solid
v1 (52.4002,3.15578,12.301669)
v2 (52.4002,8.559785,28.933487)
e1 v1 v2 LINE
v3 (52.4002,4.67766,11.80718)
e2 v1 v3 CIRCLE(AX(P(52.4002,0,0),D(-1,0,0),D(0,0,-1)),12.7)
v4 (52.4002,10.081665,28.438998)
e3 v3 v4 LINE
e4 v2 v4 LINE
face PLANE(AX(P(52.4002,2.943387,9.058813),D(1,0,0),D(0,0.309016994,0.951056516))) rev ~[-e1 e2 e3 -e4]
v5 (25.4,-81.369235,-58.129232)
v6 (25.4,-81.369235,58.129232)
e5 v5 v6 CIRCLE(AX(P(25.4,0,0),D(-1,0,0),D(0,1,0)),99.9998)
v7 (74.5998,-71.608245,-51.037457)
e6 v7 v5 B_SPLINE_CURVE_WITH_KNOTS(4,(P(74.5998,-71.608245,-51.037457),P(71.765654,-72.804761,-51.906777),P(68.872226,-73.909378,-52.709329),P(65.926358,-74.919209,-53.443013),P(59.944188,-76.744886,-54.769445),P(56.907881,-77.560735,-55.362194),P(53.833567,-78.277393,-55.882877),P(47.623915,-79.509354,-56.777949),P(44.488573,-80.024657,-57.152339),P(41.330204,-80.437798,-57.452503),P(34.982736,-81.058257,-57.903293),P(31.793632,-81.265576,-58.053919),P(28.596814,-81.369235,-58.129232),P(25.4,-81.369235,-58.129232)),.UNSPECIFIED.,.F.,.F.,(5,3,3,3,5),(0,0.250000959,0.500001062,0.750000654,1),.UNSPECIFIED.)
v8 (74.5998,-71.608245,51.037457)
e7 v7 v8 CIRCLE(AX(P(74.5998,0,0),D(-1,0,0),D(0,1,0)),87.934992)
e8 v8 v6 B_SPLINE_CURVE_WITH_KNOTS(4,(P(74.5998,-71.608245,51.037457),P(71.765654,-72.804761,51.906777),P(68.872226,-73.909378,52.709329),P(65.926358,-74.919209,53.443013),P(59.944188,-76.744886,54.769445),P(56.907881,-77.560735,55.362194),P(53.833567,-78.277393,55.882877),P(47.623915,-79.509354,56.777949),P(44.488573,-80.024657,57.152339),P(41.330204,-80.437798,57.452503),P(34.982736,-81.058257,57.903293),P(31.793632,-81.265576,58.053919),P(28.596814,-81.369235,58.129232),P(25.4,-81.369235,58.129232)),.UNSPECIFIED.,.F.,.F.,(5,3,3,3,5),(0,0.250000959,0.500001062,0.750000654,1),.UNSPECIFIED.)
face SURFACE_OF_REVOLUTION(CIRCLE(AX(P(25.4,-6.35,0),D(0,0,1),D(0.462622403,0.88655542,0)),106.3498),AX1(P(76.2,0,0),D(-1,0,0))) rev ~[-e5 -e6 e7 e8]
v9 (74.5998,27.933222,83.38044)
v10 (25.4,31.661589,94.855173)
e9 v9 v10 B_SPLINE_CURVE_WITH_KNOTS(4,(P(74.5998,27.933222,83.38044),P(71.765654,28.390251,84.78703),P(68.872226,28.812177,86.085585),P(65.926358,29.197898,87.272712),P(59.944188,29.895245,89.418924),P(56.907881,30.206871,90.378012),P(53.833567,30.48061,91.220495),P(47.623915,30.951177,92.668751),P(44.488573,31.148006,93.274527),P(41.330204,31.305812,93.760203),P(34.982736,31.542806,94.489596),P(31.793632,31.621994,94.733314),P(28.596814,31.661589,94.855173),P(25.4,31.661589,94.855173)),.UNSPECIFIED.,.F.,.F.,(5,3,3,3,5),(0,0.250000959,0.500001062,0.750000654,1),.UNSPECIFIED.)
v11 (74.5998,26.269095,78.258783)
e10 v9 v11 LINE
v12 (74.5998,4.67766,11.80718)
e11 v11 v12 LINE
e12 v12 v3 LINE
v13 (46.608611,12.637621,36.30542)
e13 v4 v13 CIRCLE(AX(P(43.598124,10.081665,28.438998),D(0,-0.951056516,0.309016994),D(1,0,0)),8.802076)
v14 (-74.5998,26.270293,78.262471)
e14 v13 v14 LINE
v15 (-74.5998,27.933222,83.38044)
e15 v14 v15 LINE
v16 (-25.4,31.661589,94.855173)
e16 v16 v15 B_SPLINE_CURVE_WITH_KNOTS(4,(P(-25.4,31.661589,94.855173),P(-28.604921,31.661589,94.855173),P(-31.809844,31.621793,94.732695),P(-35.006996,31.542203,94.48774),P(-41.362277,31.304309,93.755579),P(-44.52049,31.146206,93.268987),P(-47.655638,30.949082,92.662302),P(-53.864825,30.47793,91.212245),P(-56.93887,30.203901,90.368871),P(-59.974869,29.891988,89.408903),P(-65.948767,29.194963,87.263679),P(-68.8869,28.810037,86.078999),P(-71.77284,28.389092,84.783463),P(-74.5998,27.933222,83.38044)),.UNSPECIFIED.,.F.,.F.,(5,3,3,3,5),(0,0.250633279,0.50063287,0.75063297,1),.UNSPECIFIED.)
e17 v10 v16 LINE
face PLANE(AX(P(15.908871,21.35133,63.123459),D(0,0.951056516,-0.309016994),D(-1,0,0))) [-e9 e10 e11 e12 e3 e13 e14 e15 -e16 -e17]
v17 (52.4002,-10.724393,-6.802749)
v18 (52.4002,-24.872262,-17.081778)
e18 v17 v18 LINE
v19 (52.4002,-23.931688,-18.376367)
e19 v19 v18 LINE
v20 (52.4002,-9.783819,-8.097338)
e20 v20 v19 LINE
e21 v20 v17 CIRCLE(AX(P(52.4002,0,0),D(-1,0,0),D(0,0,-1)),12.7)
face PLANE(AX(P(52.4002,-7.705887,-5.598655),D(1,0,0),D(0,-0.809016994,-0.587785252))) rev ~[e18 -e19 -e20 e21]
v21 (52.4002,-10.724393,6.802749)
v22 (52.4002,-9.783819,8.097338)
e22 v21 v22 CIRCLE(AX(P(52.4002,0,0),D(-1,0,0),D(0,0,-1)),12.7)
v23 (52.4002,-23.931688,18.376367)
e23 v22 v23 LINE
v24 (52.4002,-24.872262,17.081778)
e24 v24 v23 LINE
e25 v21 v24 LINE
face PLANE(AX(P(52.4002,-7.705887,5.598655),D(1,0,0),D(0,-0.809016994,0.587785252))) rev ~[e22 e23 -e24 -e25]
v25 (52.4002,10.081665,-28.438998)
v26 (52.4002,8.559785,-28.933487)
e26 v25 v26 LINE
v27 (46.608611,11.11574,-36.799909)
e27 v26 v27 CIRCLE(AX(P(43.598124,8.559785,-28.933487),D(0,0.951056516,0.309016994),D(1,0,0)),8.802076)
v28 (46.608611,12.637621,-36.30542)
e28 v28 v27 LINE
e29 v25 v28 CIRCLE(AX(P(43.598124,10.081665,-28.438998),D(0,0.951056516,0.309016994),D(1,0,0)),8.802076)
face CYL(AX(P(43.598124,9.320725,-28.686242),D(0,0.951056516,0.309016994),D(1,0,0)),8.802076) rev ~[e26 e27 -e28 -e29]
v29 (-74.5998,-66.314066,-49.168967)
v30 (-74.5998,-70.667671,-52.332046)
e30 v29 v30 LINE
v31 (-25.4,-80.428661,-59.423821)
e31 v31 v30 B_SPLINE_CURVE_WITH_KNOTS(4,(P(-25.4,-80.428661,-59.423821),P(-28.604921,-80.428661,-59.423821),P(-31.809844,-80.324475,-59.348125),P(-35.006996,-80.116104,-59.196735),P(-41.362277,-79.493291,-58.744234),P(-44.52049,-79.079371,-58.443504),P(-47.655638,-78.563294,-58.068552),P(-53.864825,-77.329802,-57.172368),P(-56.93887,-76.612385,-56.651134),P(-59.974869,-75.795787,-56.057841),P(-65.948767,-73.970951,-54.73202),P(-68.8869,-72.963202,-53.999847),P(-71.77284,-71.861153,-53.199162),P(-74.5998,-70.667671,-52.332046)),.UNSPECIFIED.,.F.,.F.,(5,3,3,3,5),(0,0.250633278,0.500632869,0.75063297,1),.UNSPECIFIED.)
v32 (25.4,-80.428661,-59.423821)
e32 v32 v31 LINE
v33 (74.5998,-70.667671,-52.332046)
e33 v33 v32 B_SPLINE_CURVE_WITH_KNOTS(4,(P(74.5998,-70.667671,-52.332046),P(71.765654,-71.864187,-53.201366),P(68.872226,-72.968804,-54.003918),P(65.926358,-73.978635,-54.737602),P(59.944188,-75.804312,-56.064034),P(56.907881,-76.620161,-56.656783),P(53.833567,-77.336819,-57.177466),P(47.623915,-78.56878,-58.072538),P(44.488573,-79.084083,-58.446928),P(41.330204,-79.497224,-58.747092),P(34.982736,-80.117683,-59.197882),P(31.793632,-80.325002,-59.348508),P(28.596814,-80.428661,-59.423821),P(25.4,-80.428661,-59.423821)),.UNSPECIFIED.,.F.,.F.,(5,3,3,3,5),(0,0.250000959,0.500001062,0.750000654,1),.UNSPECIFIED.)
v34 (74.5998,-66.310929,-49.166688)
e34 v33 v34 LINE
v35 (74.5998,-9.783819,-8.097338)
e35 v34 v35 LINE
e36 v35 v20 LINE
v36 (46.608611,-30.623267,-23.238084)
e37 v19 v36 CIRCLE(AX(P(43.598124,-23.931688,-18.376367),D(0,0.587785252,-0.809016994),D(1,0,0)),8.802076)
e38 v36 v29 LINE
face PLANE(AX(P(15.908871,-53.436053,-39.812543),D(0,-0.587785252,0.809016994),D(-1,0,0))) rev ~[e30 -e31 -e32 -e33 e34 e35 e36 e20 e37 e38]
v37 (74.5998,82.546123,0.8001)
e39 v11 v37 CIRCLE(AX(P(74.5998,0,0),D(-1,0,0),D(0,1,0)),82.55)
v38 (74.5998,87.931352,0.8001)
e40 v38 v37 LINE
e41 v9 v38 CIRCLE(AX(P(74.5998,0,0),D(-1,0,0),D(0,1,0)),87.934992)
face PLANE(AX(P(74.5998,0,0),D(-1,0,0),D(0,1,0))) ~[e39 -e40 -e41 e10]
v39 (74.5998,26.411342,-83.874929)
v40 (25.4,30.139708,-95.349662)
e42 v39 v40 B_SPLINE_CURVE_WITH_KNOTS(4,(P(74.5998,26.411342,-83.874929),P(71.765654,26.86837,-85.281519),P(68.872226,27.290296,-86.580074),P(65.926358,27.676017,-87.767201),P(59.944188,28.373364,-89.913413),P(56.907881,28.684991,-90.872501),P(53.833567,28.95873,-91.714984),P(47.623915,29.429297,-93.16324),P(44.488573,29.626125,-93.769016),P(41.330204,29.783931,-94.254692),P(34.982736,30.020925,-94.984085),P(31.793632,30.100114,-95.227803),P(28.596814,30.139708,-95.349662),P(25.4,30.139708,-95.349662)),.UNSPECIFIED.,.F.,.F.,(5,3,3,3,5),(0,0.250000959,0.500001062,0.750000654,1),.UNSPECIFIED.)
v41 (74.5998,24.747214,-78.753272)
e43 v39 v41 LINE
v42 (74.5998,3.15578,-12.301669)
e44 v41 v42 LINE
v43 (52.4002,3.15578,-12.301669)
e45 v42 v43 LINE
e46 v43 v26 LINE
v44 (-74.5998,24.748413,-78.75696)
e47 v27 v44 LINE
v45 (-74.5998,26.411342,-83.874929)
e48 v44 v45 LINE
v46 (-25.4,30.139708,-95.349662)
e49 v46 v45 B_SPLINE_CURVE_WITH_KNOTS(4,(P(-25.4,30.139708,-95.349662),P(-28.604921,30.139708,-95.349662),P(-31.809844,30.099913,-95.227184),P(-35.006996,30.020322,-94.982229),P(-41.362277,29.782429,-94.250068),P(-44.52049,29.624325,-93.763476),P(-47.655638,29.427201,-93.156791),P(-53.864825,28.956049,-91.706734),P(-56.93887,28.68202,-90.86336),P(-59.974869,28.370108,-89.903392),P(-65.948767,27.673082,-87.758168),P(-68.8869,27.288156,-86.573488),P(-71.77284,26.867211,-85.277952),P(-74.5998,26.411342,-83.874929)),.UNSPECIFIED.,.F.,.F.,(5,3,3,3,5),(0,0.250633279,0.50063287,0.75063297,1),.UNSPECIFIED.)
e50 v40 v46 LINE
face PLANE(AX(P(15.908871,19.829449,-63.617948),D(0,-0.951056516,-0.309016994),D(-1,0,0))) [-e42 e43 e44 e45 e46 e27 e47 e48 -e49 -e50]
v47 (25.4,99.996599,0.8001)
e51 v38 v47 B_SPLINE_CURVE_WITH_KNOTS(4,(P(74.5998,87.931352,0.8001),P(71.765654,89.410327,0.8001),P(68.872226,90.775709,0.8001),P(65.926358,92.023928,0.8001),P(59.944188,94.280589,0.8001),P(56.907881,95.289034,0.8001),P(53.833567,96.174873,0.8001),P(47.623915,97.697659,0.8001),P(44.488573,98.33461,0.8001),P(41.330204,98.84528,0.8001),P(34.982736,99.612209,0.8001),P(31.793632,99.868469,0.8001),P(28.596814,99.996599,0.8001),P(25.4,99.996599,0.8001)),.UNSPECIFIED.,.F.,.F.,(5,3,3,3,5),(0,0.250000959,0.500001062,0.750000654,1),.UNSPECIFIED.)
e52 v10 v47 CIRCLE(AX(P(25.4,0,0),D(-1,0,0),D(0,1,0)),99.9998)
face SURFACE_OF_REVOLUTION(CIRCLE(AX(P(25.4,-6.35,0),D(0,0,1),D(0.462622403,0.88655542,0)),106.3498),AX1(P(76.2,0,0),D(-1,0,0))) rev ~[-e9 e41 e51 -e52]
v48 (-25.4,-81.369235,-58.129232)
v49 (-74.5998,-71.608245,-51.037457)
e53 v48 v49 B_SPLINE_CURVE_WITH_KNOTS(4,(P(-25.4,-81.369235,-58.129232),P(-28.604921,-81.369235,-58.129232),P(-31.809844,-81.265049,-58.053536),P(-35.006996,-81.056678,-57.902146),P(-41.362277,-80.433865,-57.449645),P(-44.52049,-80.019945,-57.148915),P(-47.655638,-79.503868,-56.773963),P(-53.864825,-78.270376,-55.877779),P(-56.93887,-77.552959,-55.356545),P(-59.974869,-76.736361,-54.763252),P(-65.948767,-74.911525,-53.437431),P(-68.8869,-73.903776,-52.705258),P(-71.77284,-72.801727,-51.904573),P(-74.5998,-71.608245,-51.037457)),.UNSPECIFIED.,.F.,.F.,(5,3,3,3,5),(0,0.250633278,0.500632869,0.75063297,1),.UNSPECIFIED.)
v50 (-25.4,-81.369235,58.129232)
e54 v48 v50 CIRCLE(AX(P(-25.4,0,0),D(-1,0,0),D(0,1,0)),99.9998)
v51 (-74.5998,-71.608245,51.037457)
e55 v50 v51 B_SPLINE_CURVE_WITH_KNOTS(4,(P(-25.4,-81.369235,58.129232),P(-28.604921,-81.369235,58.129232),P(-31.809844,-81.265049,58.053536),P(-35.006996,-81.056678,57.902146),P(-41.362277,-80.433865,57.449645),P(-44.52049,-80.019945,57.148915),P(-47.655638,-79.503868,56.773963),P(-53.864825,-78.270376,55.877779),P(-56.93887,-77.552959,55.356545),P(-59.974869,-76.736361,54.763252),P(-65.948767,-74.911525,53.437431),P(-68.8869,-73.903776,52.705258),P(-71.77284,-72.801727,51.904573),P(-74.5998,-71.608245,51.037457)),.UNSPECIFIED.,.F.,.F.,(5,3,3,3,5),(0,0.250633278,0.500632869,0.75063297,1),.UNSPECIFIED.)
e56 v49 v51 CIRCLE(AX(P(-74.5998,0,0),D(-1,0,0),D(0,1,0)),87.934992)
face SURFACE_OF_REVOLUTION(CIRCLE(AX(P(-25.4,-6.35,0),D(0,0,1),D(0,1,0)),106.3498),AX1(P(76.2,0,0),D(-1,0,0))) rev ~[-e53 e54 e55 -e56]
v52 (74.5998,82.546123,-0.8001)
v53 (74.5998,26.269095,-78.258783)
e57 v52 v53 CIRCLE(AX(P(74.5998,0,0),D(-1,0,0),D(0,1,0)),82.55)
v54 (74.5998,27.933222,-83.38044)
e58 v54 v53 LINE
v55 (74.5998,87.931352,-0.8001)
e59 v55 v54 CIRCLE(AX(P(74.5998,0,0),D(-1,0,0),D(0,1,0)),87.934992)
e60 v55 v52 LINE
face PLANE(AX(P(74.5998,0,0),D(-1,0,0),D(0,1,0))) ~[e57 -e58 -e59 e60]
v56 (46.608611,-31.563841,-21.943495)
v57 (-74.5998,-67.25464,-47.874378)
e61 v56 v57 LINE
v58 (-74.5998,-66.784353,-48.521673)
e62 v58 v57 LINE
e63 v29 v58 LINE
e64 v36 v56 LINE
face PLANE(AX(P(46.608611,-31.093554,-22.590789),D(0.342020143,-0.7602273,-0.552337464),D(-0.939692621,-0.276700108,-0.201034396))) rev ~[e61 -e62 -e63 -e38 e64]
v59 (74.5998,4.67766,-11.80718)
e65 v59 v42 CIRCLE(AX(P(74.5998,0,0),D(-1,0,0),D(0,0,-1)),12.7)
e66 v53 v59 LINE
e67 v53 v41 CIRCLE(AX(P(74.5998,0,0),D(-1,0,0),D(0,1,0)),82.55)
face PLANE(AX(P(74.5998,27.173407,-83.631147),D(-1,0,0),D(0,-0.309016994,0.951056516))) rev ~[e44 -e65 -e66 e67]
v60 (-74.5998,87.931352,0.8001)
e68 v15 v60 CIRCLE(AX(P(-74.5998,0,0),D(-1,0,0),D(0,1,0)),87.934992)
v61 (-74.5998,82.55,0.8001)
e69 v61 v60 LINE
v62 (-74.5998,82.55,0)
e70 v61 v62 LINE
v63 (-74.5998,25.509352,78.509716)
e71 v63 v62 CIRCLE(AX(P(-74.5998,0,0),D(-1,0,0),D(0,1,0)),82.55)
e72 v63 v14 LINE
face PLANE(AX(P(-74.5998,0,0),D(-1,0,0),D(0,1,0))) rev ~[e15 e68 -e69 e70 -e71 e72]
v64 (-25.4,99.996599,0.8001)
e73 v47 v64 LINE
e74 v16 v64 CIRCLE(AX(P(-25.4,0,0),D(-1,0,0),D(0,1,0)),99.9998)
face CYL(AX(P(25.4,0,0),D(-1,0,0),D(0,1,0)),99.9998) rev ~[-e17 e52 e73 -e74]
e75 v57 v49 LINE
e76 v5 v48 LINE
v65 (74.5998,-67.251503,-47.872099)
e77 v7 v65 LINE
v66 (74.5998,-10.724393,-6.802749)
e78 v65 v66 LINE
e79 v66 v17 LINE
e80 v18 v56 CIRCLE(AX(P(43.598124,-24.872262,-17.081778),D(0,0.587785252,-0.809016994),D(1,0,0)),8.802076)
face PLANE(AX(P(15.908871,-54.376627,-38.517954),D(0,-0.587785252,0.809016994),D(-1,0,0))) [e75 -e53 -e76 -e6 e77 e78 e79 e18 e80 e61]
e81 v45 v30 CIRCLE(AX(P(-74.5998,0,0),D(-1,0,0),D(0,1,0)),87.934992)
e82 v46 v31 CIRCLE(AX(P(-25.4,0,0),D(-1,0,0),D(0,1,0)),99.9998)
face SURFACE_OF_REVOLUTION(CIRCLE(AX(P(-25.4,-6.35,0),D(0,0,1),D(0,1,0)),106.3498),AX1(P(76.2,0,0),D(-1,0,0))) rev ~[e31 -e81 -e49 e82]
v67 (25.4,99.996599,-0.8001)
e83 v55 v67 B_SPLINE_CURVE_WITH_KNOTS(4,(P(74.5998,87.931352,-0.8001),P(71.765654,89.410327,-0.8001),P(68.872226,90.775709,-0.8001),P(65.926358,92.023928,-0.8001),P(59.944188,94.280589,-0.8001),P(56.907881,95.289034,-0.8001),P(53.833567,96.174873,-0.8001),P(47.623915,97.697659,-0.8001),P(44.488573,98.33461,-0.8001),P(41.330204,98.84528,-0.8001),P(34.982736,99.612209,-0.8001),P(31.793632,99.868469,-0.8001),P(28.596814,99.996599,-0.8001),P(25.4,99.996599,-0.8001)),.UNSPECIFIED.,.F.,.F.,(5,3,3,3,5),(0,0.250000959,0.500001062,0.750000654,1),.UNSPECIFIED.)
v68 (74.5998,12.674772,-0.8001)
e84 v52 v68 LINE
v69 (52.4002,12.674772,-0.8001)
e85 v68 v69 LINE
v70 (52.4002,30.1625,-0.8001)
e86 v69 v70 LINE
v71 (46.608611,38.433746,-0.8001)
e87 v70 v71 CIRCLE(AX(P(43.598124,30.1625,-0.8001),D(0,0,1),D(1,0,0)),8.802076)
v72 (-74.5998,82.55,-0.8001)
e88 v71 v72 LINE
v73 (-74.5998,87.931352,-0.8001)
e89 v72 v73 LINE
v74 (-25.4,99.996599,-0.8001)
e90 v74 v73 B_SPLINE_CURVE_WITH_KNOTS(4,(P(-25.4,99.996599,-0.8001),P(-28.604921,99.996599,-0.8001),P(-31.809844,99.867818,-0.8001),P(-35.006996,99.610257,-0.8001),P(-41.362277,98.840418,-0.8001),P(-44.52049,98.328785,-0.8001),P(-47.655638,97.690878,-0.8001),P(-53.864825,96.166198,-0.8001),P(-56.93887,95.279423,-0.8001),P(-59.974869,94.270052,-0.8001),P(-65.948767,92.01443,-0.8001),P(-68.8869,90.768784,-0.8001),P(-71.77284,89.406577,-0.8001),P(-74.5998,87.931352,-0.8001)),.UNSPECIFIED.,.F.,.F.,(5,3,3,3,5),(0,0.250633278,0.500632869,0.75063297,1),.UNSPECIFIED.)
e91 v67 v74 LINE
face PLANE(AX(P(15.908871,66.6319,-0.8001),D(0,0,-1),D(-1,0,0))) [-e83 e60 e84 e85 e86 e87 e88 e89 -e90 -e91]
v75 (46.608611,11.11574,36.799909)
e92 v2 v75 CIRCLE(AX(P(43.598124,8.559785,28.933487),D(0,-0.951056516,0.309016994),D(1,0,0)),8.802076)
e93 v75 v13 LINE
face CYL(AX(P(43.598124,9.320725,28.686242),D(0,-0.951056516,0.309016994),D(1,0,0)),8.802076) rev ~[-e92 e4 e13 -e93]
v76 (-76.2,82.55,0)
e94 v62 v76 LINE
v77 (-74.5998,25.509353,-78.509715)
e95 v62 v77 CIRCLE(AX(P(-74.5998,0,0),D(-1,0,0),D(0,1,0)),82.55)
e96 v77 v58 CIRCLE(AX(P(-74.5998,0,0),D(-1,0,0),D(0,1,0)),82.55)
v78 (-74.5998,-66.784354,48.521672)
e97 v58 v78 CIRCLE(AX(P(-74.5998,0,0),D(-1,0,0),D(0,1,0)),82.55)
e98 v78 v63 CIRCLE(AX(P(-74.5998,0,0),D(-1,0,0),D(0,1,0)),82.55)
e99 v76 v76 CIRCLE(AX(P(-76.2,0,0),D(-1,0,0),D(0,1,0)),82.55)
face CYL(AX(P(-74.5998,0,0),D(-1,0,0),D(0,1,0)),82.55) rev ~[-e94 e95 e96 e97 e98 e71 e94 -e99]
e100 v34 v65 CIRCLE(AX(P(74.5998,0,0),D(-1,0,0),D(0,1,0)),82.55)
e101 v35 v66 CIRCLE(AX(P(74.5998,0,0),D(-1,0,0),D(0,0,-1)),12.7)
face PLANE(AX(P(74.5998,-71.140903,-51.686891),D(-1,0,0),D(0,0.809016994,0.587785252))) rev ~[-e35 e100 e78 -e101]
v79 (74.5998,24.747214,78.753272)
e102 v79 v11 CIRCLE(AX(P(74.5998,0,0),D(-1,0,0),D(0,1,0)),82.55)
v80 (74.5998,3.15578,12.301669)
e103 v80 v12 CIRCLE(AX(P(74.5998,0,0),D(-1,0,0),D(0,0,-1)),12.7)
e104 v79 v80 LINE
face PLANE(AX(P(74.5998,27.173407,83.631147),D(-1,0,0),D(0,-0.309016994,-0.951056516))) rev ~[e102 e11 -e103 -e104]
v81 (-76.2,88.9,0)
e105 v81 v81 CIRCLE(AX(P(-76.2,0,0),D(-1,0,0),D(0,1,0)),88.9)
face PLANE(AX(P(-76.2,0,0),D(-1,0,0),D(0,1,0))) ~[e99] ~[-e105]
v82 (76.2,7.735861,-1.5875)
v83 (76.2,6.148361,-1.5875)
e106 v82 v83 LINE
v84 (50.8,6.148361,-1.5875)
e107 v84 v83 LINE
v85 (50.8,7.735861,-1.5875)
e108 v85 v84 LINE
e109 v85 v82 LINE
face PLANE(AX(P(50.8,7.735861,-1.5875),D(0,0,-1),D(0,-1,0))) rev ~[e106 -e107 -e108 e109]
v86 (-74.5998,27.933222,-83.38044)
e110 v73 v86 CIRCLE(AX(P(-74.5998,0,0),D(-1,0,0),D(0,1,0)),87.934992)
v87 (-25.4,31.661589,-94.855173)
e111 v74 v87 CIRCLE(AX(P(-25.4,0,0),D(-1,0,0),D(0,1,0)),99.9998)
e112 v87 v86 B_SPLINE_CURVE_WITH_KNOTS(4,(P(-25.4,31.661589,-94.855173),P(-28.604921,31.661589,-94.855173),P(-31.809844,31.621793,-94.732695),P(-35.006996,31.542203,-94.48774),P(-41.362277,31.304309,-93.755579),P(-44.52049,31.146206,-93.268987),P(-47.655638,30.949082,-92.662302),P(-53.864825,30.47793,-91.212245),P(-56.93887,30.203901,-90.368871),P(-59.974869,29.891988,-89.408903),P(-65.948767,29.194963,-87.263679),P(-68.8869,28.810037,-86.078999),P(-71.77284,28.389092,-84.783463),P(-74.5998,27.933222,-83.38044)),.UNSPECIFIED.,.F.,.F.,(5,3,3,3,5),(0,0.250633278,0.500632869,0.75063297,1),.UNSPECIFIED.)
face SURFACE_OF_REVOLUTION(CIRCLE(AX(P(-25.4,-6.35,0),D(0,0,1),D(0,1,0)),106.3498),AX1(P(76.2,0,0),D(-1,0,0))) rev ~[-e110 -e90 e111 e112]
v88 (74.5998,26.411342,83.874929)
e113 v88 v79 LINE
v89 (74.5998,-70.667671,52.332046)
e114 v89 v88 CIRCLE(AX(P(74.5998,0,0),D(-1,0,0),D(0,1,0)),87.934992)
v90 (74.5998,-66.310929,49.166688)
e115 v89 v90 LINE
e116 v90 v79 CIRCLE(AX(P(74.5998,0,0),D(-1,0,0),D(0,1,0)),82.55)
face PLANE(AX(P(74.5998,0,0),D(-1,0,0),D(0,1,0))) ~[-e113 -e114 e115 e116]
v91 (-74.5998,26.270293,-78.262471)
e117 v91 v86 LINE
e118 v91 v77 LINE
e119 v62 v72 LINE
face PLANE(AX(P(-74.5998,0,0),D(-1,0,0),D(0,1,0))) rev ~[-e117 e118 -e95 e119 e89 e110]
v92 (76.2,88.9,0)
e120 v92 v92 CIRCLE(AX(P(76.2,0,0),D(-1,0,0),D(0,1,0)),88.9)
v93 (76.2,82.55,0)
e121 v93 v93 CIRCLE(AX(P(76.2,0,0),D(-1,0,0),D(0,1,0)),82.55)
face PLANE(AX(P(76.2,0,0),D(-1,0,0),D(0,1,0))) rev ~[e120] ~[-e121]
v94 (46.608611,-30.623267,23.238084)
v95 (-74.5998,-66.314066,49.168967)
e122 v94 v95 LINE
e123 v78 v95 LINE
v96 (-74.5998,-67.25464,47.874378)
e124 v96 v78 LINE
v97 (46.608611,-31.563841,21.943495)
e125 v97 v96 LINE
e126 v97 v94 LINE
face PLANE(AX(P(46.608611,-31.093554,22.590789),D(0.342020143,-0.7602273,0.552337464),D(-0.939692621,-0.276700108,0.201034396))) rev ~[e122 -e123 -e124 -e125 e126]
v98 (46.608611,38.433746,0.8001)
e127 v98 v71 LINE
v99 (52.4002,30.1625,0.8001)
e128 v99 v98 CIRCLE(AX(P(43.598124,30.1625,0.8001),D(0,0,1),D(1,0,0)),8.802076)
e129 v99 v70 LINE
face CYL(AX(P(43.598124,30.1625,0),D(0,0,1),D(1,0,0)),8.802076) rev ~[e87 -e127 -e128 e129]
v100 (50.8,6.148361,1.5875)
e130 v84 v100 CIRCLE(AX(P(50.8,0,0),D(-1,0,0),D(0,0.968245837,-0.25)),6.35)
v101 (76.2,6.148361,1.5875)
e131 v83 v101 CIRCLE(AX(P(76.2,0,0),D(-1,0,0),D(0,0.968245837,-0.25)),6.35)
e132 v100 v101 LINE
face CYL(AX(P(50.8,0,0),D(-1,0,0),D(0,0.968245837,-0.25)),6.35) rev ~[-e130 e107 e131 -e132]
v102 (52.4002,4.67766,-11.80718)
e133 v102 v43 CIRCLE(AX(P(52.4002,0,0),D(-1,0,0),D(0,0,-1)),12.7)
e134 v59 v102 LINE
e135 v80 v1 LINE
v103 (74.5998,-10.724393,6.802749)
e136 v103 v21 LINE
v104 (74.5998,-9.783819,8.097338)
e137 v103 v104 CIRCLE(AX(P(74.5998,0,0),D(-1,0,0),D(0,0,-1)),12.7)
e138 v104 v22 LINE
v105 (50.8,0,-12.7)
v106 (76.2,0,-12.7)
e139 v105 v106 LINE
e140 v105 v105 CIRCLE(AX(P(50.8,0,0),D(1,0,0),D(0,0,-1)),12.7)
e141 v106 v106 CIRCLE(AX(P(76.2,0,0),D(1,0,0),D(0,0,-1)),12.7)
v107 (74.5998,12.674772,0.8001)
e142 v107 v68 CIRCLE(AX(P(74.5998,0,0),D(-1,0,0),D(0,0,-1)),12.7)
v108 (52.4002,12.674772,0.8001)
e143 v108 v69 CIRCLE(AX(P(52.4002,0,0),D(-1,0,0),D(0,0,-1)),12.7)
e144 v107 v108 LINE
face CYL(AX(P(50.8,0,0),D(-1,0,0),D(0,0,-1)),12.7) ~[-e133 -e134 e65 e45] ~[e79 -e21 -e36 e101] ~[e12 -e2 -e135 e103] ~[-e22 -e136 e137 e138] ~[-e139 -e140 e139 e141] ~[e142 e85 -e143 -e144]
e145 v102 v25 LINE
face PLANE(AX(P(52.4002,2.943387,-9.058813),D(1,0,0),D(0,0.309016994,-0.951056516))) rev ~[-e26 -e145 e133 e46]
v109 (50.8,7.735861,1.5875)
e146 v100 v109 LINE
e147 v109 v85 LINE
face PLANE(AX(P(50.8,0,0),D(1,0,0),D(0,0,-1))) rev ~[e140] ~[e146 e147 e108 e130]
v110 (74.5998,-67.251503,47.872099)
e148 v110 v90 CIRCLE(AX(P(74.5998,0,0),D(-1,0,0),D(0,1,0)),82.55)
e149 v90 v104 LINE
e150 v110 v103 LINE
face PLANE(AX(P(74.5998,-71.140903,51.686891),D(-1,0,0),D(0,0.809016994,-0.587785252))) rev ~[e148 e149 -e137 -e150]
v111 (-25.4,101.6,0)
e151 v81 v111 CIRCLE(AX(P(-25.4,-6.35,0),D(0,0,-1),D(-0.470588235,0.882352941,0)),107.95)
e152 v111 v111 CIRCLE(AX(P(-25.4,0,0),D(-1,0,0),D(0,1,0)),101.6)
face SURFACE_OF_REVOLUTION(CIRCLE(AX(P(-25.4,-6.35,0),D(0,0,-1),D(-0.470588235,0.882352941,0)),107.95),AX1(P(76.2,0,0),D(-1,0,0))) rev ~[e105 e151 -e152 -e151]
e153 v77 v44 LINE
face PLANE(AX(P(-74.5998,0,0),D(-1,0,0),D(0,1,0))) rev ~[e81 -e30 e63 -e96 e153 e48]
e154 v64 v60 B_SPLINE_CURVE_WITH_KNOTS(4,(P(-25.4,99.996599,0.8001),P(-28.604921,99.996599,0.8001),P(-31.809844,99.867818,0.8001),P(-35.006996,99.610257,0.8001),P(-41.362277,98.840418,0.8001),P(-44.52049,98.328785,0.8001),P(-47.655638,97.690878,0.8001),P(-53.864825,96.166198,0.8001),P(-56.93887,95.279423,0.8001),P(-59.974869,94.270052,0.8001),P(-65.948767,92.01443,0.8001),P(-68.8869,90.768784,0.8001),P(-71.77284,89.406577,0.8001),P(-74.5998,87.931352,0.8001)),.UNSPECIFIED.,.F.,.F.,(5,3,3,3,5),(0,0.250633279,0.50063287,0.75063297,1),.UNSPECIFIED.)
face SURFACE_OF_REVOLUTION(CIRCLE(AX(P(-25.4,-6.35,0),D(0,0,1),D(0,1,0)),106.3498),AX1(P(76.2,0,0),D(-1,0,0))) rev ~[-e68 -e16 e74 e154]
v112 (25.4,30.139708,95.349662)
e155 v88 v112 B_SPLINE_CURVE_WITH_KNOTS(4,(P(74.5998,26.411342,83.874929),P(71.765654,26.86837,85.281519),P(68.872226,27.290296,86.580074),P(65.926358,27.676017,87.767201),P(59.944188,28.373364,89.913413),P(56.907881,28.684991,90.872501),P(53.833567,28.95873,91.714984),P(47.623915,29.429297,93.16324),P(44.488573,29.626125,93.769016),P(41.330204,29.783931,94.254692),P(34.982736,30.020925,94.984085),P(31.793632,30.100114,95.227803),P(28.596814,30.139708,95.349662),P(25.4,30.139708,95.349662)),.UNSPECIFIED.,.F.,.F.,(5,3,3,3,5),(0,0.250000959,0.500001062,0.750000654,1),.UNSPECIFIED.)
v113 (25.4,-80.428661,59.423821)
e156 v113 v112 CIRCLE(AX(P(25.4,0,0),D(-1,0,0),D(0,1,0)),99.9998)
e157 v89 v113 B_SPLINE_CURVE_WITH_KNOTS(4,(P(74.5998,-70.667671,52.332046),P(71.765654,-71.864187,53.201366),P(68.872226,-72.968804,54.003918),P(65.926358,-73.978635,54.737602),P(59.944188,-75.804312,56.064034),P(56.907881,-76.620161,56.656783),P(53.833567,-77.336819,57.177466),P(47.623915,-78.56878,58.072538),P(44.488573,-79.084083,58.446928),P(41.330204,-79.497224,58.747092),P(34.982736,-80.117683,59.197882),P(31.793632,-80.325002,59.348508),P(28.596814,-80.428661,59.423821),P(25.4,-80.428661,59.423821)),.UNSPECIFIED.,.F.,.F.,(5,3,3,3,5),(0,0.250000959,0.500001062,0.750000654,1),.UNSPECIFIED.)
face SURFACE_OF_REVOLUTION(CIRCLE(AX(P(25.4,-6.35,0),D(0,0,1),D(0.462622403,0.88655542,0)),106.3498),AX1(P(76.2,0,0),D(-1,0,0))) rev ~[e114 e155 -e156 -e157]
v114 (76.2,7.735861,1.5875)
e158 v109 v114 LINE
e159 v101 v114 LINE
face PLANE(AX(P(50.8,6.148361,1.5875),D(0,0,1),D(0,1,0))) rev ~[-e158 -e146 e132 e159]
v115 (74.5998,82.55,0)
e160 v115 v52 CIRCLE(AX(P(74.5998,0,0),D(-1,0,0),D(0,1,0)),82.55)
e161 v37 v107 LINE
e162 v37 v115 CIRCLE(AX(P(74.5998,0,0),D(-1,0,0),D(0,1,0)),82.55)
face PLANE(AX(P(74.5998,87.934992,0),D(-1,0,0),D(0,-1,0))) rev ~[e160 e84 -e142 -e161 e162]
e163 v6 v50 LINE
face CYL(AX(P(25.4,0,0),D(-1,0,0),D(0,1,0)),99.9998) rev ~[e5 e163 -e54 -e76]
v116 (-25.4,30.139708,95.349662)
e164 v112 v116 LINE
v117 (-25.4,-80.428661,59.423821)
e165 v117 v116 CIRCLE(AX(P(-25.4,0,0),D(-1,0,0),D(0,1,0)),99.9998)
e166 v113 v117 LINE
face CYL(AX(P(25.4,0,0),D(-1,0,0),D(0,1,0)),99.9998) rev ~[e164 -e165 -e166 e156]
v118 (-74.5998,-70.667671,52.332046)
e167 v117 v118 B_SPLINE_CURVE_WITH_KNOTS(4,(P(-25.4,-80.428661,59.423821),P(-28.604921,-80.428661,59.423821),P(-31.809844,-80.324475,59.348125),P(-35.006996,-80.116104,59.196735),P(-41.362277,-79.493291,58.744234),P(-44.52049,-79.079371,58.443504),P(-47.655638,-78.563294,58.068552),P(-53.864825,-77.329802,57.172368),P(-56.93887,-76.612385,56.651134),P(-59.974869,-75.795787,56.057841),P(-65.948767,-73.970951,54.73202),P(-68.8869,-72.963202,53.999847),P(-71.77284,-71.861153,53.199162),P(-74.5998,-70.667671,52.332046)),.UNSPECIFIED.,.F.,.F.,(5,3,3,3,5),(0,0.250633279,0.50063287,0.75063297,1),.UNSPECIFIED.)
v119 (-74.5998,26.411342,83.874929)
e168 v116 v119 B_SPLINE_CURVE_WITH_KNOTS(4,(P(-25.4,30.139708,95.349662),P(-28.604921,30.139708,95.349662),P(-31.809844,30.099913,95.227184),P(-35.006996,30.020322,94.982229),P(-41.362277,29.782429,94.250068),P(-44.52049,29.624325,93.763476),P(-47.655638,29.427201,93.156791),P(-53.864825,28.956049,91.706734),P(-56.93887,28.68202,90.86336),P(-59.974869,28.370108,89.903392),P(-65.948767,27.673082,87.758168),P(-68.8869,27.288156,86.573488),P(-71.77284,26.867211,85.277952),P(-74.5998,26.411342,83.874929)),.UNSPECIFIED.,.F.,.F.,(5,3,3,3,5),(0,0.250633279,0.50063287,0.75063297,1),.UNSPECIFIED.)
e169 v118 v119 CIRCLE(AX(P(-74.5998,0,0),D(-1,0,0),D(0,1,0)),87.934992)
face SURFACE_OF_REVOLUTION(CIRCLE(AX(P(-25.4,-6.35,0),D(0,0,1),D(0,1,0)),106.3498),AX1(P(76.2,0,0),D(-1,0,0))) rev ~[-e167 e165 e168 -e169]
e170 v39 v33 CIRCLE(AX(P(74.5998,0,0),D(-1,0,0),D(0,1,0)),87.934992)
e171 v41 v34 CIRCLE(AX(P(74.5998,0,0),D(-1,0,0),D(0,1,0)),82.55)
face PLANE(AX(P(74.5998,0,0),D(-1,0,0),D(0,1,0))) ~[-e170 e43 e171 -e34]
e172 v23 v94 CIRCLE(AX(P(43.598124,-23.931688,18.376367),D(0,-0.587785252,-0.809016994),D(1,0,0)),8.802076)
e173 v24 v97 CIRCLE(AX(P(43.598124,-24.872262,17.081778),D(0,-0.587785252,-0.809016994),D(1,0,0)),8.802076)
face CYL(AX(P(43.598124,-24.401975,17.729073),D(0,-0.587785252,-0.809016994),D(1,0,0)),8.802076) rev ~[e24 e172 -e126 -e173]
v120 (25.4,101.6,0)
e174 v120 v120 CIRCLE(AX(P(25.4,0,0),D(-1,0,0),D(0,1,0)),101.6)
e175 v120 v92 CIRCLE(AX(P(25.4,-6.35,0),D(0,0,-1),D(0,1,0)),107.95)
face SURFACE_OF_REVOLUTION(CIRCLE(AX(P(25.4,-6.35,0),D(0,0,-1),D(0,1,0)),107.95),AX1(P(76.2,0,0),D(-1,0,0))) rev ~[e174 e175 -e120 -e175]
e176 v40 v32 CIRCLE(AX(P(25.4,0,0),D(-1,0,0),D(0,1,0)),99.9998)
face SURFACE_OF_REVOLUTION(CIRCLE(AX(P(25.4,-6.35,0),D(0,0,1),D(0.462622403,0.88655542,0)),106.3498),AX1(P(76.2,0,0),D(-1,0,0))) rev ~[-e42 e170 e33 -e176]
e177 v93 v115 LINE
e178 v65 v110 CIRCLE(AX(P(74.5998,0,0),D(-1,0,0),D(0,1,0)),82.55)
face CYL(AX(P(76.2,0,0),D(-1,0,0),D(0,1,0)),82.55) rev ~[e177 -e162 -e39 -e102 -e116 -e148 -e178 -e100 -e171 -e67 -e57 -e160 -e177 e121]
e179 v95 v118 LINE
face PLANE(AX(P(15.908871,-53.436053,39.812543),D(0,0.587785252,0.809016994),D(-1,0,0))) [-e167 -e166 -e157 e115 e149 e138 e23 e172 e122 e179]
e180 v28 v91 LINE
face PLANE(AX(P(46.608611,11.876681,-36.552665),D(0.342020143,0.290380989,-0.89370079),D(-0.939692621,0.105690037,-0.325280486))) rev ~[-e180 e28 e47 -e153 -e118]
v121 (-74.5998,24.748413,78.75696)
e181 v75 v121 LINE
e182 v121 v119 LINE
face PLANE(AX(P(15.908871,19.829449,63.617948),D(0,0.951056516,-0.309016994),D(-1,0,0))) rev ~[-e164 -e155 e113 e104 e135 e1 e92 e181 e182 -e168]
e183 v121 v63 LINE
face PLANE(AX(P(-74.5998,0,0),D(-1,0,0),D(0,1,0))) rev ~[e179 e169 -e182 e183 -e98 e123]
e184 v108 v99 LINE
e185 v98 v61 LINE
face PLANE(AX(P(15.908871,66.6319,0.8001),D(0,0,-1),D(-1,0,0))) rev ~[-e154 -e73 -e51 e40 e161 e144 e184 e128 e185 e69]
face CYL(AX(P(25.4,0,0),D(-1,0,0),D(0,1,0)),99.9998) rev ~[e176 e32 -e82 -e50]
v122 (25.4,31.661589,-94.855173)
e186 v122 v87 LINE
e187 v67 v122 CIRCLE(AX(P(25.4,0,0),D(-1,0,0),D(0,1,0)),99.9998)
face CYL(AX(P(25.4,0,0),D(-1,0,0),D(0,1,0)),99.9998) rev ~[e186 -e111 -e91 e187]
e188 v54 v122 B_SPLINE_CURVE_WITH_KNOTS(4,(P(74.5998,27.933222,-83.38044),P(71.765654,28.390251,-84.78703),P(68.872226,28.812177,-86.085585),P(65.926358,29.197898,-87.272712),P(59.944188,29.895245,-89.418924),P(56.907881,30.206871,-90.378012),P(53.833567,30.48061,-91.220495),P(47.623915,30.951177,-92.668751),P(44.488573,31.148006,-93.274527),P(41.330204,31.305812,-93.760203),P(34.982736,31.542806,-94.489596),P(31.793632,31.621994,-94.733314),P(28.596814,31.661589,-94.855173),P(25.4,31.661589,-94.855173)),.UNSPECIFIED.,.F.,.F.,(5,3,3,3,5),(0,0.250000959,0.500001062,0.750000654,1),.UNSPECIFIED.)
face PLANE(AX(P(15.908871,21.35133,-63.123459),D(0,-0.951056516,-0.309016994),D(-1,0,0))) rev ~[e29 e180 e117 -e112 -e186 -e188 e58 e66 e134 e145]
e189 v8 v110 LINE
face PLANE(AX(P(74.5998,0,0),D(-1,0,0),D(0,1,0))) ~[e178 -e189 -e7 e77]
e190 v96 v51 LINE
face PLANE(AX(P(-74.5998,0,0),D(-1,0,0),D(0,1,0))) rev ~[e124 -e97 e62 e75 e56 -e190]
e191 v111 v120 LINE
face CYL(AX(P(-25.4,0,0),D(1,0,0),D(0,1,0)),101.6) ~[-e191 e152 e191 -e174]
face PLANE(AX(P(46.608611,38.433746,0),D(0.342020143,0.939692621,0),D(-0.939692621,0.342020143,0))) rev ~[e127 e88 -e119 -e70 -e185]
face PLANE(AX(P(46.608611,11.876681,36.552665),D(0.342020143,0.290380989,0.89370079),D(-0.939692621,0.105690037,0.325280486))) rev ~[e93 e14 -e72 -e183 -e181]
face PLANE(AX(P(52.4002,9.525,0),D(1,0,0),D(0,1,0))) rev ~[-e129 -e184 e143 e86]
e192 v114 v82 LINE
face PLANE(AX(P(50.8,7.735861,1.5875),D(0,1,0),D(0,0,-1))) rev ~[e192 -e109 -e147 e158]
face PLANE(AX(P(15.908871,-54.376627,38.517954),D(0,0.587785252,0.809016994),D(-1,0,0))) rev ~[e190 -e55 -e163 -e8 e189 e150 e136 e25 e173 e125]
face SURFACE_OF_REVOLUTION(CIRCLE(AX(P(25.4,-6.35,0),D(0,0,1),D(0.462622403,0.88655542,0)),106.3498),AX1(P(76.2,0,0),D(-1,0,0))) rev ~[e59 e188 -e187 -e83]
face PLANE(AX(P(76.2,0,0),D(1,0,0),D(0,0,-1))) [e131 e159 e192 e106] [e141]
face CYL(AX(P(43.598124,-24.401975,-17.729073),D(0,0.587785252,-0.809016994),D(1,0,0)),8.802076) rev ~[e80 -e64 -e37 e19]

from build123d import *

# Parameters (mm, degrees)
BOSS_EXTRUDE1_START = 50.8
SKETCH2_R           = 12.7
BOSS_EXTRUDE1_DEPTH = 25.4
BOSS_EXTRUDE2_DEPTH = 0.8001
CIRPATTERN1_COUNT   = 5


with BuildPart() as part:
    # Sketch1 → Revolve1 (revolve)
    with BuildSketch(Plane.XY):
        with BuildLine():
            Line((0, 101.6), (25.4, 101.6))
            ThreePointArc((25.4, 101.6), (51.581720723, 98.376882891), (76.2, 88.9))
            Line((76.2, 88.9), (76.2, 82.55))
            Line((76.2, 82.55), (74.5998, 82.55))
            Line((74.5998, 82.55), (74.5998, 87.934991595))
            ThreePointArc((74.5998, 87.934991595), (50.728738233, 96.93956859), (25.4, 99.9998))
            Line((25.4, 99.9998), (0, 99.9998))
            Line((0, 99.9998), (-25.4, 99.9998))
            ThreePointArc((-25.4, 99.9998), (-50.728738233, 96.93956859), (-74.5998, 87.934991595))
            Line((-74.5998, 87.934991595), (-74.5998, 82.55))
            Line((-74.5998, 82.55), (-76.2, 82.55))
            Line((-76.2, 82.55), (-76.2, 88.9))
            ThreePointArc((-76.2, 88.9), (-51.581720723, 98.376882891), (-25.4, 101.6))
            Line((-25.4, 101.6), (0, 101.6))
        make_face()
    revolve(axis=Axis((76.2, 0, 0), (-1, 0, 0)))



with BuildPart() as body_2:
    # Sketch2 → Boss-Extrude1 (new body)
    with BuildSketch(Plane(origin=(0, 0, 0), x_dir=(0, 0, -1), z_dir=(1, 0, 0)).offset(BOSS_EXTRUDE1_START)):
        Circle(SKETCH2_R)
        with BuildLine():
            Line((-1.5875, 6.148361062), (-1.5875, 7.735861062))
            Line((-1.5875, 7.735861062), (1.5875, 7.735861062))
            Line((1.5875, 7.735861062), (1.5875, 6.148361062))
            ThreePointArc((1.5875, 6.148361062), (0, -6.35), (-1.5875, 6.148361062))
        make_face(mode=Mode.SUBTRACT)
    extrude(amount=BOSS_EXTRUDE1_DEPTH)


with BuildPart() as part_1:
    add(part.part)

    add(body_2.part)  # Boss-Extrude2 merges body 2
    # Sketch3 → Boss-Extrude2 (add, symmetric)
    with BuildSketch(Plane.XY):
        with BuildLine():
            Line((74.5998, 87.934991595), (74.5998, 9.525))
            Line((74.5998, 9.525), (52.4002, 9.525))
            Line((52.4002, 9.525), (52.4002, 30.1625))
            ThreePointArc((52.4002, 30.1625), (50.808362477, 35.211163615), (46.608611031, 38.433746242))
            Line((46.608611031, 38.433746242), (-74.5998, 82.55))
            Line((-74.5998, 82.55), (-74.5998, 87.934991595))
            ThreePointArc((-74.5998, 87.934991595), (-50.728738233, 96.93956859), (-25.4, 99.9998))
            Line((-25.4, 99.9998), (25.4, 99.9998))
            ThreePointArc((25.4, 99.9998), (50.728738233, 96.93956859), (74.5998, 87.934991595))
        make_face()
    boss_extrude2 = extrude(amount=BOSS_EXTRUDE2_DEPTH, both=True)

    # CirPattern1: Boss-Extrude2 ×5 about axis
    cirpattern1_axis = Axis((0, 0, 0), (1, 0, 0))
    for i in range(1, CIRPATTERN1_COUNT):
        add(boss_extrude2.rotate(cirpattern1_axis, i * 360 / CIRPATTERN1_COUNT))


solid = part_1.part
